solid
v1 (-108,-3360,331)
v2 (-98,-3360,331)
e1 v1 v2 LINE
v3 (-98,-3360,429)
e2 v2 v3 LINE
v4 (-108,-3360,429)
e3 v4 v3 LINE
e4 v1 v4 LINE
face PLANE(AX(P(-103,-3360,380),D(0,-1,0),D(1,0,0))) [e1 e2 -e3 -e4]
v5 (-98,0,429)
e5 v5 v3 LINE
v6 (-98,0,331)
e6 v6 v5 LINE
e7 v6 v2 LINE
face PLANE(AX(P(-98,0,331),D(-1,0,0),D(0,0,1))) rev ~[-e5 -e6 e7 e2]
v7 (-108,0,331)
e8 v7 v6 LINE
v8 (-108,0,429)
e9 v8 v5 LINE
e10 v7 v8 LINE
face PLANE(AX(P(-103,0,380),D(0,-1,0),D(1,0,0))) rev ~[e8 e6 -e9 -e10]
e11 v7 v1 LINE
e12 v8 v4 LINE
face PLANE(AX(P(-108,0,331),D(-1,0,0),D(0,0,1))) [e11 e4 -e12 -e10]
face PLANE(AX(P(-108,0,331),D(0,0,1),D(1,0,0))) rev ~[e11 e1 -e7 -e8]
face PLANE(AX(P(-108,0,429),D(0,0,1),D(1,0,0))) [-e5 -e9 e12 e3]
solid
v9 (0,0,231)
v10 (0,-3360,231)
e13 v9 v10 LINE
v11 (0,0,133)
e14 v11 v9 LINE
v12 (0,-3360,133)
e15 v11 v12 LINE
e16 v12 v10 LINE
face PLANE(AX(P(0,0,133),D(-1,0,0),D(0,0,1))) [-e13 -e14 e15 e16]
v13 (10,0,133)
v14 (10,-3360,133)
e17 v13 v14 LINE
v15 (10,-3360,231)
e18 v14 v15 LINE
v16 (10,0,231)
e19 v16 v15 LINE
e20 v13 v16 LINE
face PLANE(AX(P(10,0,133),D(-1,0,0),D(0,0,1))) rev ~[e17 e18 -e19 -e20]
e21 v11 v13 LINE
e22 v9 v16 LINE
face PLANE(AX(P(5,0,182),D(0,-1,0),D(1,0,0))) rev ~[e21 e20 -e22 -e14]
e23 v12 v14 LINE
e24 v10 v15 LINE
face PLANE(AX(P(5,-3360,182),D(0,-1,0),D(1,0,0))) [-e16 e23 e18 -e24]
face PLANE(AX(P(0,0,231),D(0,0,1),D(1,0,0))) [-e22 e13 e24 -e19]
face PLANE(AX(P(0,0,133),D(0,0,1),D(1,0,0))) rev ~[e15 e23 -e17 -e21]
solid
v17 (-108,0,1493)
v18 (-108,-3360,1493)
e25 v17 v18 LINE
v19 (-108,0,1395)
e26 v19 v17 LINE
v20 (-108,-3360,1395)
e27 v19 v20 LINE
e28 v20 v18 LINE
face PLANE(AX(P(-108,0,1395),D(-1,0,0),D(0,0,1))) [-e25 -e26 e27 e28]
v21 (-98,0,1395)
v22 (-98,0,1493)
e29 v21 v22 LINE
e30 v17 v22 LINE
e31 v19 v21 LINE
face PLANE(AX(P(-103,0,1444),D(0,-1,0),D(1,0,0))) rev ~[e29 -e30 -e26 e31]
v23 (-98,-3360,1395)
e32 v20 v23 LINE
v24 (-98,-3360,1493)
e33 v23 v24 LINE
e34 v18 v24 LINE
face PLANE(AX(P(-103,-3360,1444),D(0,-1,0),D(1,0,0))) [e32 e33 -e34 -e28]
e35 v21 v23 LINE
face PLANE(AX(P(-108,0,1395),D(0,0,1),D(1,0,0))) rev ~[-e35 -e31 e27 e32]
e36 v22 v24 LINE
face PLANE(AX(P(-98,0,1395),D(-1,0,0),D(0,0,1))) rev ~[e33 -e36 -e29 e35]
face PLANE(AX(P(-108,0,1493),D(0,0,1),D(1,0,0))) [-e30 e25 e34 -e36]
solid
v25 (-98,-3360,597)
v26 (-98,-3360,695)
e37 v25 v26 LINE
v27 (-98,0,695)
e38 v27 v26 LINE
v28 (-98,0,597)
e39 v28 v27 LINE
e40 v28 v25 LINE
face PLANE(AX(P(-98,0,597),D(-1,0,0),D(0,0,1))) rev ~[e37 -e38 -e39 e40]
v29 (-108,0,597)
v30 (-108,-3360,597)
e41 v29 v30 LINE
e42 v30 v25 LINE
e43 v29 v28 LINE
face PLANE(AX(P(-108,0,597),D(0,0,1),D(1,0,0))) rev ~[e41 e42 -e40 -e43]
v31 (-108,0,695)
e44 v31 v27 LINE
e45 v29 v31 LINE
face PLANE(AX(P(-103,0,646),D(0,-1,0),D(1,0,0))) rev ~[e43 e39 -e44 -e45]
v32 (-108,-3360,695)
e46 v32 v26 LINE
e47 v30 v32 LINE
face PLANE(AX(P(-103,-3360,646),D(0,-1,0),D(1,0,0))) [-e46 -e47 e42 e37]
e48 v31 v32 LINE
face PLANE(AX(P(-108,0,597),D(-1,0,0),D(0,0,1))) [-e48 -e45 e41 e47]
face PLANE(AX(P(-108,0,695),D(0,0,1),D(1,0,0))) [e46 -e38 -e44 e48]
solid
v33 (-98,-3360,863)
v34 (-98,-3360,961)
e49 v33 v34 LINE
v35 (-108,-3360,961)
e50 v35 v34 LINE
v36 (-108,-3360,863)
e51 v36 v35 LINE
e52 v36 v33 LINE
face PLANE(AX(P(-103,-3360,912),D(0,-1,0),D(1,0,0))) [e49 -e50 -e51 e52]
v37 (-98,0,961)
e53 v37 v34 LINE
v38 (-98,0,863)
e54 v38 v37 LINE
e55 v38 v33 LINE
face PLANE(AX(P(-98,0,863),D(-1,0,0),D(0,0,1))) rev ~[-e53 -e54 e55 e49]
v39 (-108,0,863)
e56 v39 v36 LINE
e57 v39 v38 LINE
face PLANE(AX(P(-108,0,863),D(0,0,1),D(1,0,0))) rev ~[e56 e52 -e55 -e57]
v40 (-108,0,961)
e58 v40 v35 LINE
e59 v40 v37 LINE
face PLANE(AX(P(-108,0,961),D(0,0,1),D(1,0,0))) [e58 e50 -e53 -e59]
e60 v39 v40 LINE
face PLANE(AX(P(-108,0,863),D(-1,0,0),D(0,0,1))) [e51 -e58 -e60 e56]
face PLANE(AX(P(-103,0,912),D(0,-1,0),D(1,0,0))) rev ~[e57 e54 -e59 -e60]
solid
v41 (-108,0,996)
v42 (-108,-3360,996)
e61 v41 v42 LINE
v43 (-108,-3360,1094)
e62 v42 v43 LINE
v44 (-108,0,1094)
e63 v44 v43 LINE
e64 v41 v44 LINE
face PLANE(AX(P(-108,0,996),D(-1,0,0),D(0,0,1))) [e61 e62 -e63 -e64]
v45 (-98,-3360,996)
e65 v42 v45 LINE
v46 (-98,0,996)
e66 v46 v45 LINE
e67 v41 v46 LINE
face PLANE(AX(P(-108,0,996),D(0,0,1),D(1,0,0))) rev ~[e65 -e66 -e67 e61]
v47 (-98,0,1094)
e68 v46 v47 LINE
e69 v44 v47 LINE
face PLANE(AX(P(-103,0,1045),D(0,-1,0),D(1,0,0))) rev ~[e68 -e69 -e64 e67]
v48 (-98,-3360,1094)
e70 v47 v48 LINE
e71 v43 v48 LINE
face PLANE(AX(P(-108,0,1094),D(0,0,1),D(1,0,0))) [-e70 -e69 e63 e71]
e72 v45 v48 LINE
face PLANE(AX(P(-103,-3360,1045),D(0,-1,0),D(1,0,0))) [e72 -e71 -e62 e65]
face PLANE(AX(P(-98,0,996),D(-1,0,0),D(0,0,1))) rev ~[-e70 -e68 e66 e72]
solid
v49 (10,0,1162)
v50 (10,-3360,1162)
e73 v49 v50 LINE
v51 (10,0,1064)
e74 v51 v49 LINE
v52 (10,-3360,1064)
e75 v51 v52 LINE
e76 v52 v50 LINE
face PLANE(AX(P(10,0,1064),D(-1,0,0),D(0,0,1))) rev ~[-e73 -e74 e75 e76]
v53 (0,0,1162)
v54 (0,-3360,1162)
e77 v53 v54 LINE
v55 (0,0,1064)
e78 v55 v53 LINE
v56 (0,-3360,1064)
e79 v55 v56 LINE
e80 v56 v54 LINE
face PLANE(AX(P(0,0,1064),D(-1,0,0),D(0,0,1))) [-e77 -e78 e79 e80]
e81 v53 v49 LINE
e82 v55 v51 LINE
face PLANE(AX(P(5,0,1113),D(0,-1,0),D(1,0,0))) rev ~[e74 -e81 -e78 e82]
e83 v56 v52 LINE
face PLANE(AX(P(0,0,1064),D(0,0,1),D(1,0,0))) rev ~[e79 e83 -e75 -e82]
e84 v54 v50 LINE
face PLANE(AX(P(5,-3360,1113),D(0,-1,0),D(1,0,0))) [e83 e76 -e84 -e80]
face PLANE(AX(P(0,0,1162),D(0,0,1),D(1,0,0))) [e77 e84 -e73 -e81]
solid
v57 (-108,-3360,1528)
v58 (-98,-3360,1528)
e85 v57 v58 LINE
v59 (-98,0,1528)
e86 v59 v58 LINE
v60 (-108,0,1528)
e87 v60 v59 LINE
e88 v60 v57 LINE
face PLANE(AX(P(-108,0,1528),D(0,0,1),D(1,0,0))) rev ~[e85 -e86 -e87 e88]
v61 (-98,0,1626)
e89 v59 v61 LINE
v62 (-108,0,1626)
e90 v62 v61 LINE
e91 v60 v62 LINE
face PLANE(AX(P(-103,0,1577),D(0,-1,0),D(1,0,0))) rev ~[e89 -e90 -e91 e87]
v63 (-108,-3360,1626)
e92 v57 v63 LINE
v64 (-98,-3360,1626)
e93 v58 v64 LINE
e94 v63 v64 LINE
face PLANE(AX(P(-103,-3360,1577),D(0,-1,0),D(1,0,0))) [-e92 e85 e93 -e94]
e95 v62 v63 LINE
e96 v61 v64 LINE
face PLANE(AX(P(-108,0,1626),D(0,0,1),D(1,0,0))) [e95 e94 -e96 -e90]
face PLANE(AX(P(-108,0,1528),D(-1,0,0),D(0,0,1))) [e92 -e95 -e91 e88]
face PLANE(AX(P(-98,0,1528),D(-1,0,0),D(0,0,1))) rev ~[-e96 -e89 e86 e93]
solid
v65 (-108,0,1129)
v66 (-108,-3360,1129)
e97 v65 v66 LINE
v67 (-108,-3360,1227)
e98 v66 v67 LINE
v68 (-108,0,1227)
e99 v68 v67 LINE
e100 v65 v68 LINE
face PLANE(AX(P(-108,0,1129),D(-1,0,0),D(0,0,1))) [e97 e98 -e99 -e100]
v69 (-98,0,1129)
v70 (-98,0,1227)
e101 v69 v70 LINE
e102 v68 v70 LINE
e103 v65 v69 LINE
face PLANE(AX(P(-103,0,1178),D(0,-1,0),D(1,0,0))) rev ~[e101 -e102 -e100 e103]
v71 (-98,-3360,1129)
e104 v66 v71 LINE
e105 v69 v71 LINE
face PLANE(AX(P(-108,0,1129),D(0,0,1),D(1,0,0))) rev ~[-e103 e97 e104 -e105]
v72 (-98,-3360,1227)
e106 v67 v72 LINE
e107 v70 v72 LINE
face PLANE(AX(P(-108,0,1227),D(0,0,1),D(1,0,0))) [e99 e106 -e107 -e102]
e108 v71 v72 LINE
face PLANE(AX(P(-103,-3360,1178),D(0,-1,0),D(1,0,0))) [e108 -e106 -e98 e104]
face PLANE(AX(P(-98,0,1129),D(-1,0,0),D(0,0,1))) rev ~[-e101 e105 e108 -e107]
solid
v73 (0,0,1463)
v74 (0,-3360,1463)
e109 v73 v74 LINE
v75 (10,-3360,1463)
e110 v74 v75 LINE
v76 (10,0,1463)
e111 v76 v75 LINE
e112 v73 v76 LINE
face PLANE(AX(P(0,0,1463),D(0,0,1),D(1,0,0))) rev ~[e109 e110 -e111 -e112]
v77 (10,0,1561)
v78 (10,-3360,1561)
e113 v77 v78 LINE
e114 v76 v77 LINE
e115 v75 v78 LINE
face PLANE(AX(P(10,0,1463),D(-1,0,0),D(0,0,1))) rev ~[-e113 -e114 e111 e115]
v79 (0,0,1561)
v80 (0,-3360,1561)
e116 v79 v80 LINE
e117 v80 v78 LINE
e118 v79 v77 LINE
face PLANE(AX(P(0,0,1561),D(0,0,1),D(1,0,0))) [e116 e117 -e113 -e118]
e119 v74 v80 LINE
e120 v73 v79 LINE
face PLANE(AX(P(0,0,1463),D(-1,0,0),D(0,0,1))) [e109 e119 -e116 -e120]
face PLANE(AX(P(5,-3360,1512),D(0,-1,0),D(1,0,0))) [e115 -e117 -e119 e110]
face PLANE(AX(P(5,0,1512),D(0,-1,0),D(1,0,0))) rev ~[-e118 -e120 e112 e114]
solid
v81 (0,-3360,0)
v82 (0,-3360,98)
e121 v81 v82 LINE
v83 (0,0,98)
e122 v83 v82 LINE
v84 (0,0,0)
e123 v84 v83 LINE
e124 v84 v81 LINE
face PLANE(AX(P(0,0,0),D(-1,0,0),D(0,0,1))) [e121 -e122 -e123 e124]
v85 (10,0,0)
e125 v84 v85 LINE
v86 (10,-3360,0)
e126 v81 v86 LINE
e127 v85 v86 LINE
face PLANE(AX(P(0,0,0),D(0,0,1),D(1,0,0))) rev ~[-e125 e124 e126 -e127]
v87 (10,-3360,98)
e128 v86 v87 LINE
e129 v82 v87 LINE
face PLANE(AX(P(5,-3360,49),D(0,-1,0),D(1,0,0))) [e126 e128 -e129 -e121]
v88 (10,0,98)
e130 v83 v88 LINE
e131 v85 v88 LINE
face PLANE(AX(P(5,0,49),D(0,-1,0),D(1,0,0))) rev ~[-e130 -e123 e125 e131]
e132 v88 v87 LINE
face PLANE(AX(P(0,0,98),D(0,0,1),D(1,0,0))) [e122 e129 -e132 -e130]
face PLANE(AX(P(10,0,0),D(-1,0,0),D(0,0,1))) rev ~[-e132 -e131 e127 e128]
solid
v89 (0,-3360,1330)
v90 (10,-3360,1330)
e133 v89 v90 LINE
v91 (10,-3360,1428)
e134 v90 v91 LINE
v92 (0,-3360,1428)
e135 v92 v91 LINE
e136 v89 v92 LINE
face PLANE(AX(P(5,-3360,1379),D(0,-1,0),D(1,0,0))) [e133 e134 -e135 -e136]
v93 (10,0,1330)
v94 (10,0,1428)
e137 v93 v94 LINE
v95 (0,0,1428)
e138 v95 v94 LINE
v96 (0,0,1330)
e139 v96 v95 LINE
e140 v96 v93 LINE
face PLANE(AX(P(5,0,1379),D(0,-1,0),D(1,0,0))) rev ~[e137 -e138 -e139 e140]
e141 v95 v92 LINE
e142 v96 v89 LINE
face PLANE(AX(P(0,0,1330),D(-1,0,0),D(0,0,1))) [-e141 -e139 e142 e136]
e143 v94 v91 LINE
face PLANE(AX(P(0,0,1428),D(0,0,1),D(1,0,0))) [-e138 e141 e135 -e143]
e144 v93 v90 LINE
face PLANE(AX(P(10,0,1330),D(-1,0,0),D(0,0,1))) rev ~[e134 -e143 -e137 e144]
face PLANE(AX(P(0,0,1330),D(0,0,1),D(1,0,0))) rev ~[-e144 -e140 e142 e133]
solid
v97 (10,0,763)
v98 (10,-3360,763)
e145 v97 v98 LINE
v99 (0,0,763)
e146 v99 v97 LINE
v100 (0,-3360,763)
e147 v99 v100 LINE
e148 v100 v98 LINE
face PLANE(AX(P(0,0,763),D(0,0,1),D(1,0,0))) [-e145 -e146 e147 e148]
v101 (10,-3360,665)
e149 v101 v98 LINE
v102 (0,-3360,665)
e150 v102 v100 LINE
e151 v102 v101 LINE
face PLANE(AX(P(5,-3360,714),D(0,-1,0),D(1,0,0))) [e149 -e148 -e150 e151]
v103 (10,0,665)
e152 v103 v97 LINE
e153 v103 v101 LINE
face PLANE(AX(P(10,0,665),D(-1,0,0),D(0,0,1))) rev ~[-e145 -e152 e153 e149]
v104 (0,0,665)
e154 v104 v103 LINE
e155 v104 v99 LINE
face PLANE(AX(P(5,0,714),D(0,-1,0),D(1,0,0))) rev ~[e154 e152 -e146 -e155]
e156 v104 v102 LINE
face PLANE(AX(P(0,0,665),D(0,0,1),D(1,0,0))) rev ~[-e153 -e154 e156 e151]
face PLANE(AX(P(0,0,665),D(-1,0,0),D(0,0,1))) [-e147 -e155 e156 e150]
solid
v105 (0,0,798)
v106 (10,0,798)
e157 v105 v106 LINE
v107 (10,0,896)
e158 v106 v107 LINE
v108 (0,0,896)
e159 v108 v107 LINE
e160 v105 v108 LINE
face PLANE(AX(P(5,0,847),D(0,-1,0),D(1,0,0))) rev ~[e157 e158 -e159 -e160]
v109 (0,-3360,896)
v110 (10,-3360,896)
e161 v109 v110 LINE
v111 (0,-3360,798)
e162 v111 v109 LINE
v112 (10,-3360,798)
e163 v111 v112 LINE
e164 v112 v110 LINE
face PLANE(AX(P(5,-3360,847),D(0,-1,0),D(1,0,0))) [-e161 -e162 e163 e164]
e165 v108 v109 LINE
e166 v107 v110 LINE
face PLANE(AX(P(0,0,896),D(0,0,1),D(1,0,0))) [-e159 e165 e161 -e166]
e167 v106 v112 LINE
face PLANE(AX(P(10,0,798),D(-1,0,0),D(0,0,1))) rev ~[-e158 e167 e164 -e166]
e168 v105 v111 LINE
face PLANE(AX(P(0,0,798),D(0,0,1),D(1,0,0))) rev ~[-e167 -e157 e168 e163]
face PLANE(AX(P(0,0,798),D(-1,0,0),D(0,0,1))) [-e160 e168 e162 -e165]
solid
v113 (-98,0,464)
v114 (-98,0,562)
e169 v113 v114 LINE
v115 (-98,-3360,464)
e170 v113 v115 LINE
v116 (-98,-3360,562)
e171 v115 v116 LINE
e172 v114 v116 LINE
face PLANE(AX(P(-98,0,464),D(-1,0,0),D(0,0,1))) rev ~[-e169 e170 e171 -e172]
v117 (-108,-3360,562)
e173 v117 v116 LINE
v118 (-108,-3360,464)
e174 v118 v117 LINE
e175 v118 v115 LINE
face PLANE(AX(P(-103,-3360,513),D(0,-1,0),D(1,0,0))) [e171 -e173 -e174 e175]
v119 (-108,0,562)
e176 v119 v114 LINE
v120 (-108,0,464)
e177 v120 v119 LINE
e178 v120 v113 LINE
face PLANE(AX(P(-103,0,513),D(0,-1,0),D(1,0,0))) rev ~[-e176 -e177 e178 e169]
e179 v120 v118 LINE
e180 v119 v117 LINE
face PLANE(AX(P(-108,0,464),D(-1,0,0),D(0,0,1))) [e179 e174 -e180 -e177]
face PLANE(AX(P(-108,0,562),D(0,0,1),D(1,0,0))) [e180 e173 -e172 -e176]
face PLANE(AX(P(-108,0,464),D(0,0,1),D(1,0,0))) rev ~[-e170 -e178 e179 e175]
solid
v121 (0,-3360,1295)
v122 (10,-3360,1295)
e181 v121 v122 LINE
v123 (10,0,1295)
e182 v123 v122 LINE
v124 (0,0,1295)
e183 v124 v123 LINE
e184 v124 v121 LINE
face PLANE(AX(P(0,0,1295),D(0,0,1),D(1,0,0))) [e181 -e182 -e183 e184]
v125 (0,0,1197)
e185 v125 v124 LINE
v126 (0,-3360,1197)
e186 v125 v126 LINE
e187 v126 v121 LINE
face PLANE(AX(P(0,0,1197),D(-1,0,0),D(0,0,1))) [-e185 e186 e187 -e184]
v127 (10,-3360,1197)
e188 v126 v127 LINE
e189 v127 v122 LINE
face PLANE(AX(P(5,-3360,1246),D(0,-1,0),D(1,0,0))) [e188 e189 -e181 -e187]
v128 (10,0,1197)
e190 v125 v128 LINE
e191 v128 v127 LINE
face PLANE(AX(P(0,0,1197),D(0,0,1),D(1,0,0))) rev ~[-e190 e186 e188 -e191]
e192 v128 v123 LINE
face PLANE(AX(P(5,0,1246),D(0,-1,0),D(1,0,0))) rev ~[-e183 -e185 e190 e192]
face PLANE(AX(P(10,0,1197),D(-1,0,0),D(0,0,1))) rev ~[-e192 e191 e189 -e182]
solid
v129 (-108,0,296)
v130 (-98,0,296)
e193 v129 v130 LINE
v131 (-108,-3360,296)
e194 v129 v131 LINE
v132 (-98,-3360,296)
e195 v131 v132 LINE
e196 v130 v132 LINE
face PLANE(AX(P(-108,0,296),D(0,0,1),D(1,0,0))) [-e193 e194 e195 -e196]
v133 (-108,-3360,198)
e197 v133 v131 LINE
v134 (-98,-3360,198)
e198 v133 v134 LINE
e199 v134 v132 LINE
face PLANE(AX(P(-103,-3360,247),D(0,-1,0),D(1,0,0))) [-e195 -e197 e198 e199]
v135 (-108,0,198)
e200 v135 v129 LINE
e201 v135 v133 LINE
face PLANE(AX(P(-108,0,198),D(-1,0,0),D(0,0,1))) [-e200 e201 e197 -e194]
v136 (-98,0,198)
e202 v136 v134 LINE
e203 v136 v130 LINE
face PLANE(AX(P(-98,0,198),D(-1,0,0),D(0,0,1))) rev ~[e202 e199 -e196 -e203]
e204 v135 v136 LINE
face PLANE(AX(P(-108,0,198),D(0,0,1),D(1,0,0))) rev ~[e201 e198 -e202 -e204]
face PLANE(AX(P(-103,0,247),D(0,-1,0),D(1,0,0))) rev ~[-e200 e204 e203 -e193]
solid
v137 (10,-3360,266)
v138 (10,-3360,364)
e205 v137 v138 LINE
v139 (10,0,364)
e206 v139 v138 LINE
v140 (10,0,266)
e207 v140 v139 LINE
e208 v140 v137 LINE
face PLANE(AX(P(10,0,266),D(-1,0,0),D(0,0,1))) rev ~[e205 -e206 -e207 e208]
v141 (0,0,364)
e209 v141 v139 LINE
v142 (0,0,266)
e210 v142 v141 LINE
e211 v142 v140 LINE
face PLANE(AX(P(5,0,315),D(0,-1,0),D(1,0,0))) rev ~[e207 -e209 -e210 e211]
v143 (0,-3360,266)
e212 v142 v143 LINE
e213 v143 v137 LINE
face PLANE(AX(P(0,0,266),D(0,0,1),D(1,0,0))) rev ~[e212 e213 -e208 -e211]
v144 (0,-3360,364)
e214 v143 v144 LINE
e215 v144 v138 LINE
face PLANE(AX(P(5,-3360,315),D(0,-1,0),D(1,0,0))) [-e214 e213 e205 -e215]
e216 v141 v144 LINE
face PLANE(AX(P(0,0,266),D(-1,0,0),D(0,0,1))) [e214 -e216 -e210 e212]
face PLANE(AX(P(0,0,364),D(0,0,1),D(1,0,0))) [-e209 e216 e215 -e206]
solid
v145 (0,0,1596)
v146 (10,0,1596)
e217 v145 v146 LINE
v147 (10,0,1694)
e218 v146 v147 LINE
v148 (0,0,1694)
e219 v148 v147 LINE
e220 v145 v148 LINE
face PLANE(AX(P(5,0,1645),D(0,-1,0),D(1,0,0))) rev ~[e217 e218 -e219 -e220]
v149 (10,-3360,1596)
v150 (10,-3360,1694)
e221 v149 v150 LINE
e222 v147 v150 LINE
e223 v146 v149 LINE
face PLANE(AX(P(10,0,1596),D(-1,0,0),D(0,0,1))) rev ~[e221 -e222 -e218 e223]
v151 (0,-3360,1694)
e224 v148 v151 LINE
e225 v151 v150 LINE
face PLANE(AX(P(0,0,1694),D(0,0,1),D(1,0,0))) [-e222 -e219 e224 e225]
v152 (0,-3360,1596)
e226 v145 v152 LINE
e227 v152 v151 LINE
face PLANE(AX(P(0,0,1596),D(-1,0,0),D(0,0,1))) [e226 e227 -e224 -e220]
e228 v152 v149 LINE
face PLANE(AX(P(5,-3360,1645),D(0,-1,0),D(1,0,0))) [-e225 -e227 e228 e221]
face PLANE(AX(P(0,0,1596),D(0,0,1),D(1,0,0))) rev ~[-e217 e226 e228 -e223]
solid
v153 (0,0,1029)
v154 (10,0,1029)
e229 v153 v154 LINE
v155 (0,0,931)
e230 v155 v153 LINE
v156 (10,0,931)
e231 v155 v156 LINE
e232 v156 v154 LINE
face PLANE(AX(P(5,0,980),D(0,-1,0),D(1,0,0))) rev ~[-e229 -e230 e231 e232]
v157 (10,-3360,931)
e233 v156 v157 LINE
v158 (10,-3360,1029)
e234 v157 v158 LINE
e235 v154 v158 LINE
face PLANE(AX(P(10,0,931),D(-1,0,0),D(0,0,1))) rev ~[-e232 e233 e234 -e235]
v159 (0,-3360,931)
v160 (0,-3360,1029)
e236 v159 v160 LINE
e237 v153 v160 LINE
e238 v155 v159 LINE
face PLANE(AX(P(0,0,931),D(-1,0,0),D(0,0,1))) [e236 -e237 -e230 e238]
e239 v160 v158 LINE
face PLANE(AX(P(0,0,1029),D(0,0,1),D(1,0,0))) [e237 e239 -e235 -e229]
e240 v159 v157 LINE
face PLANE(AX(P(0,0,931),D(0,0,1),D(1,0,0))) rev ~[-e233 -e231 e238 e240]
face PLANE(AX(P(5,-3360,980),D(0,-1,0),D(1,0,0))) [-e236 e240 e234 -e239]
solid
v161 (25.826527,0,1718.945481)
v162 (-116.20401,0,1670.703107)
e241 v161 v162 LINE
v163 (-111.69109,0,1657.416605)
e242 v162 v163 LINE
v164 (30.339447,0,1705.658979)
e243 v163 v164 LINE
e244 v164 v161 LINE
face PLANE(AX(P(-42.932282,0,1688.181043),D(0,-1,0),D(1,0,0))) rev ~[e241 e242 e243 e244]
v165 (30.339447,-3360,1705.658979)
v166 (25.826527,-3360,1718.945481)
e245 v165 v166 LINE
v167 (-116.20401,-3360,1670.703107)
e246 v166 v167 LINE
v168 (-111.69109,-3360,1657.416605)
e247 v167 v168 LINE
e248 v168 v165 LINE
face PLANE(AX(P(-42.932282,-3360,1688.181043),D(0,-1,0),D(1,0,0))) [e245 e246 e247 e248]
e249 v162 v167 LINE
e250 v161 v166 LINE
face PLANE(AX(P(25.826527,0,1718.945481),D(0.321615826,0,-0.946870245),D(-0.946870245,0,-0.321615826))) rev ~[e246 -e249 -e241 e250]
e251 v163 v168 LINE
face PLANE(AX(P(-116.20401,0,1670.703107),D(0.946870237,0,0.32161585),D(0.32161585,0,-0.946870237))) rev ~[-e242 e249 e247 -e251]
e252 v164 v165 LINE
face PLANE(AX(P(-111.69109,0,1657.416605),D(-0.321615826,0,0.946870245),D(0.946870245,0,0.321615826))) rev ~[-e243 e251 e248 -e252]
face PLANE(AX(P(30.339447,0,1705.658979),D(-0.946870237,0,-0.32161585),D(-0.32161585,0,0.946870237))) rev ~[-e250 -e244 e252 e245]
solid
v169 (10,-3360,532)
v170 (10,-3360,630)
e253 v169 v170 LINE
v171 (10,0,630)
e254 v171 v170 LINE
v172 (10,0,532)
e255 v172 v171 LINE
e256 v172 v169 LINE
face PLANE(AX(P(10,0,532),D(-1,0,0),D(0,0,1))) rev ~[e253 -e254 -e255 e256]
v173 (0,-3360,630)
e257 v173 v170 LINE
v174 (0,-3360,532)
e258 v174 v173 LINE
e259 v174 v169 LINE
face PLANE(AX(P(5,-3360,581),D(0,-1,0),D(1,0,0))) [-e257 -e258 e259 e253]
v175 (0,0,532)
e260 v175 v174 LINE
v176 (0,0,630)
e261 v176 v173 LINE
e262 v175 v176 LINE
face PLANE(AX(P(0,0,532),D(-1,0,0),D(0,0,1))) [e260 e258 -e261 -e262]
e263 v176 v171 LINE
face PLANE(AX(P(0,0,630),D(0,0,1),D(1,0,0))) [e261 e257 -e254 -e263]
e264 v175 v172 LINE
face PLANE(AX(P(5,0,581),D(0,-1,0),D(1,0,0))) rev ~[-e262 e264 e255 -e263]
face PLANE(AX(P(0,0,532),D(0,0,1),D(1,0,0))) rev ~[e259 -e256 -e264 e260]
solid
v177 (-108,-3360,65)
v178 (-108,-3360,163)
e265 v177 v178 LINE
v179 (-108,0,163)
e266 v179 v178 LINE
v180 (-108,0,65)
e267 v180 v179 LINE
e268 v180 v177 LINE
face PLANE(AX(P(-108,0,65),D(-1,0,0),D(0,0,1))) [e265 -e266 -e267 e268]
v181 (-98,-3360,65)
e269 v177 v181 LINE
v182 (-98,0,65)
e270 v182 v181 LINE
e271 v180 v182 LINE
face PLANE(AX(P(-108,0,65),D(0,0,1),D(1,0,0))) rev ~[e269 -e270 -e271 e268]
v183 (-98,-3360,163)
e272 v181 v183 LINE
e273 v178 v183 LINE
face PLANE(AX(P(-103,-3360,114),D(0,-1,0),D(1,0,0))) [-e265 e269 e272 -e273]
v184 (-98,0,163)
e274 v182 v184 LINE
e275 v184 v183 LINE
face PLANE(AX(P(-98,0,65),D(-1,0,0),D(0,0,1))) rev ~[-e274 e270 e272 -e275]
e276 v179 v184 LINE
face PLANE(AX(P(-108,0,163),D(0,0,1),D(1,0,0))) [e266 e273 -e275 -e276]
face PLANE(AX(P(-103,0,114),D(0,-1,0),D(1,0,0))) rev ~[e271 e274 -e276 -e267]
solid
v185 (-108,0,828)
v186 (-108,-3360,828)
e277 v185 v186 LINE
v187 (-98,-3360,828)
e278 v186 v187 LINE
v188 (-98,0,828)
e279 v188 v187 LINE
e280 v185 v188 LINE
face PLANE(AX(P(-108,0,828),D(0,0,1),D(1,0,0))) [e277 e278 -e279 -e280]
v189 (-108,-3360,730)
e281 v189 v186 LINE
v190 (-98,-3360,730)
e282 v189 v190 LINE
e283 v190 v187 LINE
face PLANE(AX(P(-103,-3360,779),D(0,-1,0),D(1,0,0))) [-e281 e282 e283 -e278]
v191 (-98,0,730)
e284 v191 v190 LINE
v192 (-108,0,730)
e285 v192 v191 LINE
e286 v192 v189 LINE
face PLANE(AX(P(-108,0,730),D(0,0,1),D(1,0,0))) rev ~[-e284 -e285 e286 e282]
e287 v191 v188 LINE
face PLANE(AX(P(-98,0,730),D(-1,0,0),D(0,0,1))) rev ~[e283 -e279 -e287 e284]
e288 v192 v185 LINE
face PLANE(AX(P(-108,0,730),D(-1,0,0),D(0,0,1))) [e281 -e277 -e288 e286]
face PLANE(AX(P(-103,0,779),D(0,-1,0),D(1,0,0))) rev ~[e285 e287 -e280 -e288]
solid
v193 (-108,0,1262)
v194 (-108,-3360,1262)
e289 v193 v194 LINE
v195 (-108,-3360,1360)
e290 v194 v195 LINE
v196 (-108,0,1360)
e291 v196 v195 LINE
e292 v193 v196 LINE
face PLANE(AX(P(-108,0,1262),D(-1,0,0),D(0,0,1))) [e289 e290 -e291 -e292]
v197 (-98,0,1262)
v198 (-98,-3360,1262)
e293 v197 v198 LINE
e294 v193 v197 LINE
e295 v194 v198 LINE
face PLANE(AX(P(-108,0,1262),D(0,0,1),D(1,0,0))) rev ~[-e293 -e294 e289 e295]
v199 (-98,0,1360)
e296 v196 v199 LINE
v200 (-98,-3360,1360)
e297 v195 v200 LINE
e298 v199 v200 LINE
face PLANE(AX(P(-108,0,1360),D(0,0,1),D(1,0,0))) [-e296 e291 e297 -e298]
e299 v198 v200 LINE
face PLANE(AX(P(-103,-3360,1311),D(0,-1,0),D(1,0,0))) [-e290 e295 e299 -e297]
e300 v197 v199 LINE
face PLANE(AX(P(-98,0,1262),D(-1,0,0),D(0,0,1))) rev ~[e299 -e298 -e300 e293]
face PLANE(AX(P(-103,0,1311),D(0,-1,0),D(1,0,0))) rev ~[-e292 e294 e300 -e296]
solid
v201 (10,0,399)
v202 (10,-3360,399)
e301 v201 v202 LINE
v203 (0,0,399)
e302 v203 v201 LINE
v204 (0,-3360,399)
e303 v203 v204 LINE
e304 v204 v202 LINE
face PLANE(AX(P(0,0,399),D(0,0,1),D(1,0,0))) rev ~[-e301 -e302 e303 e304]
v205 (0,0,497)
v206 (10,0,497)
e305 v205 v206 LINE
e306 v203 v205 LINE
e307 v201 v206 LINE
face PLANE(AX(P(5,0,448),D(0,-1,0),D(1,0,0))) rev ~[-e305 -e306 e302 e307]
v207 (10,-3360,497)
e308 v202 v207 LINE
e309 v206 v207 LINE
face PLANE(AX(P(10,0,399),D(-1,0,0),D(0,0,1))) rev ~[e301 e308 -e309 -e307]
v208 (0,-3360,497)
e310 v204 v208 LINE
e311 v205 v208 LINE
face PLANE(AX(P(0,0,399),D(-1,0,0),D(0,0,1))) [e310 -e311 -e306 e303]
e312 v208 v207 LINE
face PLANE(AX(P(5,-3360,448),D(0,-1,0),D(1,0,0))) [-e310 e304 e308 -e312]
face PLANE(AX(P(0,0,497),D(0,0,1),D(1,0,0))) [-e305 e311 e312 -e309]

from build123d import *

# Parameters (mm, degrees)
F0_W     = 10
F0_H     = 98
F1_DEPTH = 3360


with BuildPart() as f1:
    # F0 (on Front) → F1 (new body)
    with BuildSketch(Plane.XZ):
        Polygon((-111.69109, 1657.416605), (30.339447, 1705.658979), (25.826527, 1718.945481), (-116.20401, 1670.703107), align=None)
        with Locations((-103, 1311)):
            Rectangle(F0_W, F0_H)
        with Locations((-103, 380)):
            Rectangle(F0_W, F0_H)
        with Locations((5, 581)):
            Rectangle(F0_W, F0_H)
        with Locations((-103, 912)):
            Rectangle(F0_W, F0_H)
        with Locations((5, 714)):
            Rectangle(F0_W, F0_H)
        with Locations((-103, 779)):
            Rectangle(F0_W, F0_H)
        with Locations((5, 315)):
            Rectangle(F0_W, F0_H)
        with Locations((5, 1113)):
            Rectangle(F0_W, F0_H)
        with Locations((5, 1512)):
            Rectangle(F0_W, F0_H)
        with Locations((5, 1246)):
            Rectangle(F0_W, F0_H)
        with Locations((-103, 114)):
            Rectangle(F0_W, F0_H)
        with Locations((5, 847)):
            Rectangle(F0_W, F0_H)
        with Locations((5, 980)):
            Rectangle(F0_W, F0_H)
        with Locations((-103, 1444)):
            Rectangle(F0_W, F0_H)
        with Locations((-103, 1178)):
            Rectangle(F0_W, F0_H)
        with Locations((5, 1645)):
            Rectangle(F0_W, F0_H)
        with Locations((-103, 247)):
            Rectangle(F0_W, F0_H)
        with Locations((5, 49)):
            Rectangle(F0_W, F0_H)
        with Locations((-103, 646)):
            Rectangle(F0_W, F0_H)
        with Locations((5, 1379)):
            Rectangle(F0_W, F0_H)
        with Locations((-103, 1577)):
            Rectangle(F0_W, F0_H)
        with Locations((-103, 513)):
            Rectangle(F0_W, F0_H)
        with Locations((5, 448)):
            Rectangle(F0_W, F0_H)
        with Locations((5, 182)):
            Rectangle(F0_W, F0_H)
        with Locations((-103, 1045)):
            Rectangle(F0_W, F0_H)
    extrude(amount=F1_DEPTH)


solid = f1.part
